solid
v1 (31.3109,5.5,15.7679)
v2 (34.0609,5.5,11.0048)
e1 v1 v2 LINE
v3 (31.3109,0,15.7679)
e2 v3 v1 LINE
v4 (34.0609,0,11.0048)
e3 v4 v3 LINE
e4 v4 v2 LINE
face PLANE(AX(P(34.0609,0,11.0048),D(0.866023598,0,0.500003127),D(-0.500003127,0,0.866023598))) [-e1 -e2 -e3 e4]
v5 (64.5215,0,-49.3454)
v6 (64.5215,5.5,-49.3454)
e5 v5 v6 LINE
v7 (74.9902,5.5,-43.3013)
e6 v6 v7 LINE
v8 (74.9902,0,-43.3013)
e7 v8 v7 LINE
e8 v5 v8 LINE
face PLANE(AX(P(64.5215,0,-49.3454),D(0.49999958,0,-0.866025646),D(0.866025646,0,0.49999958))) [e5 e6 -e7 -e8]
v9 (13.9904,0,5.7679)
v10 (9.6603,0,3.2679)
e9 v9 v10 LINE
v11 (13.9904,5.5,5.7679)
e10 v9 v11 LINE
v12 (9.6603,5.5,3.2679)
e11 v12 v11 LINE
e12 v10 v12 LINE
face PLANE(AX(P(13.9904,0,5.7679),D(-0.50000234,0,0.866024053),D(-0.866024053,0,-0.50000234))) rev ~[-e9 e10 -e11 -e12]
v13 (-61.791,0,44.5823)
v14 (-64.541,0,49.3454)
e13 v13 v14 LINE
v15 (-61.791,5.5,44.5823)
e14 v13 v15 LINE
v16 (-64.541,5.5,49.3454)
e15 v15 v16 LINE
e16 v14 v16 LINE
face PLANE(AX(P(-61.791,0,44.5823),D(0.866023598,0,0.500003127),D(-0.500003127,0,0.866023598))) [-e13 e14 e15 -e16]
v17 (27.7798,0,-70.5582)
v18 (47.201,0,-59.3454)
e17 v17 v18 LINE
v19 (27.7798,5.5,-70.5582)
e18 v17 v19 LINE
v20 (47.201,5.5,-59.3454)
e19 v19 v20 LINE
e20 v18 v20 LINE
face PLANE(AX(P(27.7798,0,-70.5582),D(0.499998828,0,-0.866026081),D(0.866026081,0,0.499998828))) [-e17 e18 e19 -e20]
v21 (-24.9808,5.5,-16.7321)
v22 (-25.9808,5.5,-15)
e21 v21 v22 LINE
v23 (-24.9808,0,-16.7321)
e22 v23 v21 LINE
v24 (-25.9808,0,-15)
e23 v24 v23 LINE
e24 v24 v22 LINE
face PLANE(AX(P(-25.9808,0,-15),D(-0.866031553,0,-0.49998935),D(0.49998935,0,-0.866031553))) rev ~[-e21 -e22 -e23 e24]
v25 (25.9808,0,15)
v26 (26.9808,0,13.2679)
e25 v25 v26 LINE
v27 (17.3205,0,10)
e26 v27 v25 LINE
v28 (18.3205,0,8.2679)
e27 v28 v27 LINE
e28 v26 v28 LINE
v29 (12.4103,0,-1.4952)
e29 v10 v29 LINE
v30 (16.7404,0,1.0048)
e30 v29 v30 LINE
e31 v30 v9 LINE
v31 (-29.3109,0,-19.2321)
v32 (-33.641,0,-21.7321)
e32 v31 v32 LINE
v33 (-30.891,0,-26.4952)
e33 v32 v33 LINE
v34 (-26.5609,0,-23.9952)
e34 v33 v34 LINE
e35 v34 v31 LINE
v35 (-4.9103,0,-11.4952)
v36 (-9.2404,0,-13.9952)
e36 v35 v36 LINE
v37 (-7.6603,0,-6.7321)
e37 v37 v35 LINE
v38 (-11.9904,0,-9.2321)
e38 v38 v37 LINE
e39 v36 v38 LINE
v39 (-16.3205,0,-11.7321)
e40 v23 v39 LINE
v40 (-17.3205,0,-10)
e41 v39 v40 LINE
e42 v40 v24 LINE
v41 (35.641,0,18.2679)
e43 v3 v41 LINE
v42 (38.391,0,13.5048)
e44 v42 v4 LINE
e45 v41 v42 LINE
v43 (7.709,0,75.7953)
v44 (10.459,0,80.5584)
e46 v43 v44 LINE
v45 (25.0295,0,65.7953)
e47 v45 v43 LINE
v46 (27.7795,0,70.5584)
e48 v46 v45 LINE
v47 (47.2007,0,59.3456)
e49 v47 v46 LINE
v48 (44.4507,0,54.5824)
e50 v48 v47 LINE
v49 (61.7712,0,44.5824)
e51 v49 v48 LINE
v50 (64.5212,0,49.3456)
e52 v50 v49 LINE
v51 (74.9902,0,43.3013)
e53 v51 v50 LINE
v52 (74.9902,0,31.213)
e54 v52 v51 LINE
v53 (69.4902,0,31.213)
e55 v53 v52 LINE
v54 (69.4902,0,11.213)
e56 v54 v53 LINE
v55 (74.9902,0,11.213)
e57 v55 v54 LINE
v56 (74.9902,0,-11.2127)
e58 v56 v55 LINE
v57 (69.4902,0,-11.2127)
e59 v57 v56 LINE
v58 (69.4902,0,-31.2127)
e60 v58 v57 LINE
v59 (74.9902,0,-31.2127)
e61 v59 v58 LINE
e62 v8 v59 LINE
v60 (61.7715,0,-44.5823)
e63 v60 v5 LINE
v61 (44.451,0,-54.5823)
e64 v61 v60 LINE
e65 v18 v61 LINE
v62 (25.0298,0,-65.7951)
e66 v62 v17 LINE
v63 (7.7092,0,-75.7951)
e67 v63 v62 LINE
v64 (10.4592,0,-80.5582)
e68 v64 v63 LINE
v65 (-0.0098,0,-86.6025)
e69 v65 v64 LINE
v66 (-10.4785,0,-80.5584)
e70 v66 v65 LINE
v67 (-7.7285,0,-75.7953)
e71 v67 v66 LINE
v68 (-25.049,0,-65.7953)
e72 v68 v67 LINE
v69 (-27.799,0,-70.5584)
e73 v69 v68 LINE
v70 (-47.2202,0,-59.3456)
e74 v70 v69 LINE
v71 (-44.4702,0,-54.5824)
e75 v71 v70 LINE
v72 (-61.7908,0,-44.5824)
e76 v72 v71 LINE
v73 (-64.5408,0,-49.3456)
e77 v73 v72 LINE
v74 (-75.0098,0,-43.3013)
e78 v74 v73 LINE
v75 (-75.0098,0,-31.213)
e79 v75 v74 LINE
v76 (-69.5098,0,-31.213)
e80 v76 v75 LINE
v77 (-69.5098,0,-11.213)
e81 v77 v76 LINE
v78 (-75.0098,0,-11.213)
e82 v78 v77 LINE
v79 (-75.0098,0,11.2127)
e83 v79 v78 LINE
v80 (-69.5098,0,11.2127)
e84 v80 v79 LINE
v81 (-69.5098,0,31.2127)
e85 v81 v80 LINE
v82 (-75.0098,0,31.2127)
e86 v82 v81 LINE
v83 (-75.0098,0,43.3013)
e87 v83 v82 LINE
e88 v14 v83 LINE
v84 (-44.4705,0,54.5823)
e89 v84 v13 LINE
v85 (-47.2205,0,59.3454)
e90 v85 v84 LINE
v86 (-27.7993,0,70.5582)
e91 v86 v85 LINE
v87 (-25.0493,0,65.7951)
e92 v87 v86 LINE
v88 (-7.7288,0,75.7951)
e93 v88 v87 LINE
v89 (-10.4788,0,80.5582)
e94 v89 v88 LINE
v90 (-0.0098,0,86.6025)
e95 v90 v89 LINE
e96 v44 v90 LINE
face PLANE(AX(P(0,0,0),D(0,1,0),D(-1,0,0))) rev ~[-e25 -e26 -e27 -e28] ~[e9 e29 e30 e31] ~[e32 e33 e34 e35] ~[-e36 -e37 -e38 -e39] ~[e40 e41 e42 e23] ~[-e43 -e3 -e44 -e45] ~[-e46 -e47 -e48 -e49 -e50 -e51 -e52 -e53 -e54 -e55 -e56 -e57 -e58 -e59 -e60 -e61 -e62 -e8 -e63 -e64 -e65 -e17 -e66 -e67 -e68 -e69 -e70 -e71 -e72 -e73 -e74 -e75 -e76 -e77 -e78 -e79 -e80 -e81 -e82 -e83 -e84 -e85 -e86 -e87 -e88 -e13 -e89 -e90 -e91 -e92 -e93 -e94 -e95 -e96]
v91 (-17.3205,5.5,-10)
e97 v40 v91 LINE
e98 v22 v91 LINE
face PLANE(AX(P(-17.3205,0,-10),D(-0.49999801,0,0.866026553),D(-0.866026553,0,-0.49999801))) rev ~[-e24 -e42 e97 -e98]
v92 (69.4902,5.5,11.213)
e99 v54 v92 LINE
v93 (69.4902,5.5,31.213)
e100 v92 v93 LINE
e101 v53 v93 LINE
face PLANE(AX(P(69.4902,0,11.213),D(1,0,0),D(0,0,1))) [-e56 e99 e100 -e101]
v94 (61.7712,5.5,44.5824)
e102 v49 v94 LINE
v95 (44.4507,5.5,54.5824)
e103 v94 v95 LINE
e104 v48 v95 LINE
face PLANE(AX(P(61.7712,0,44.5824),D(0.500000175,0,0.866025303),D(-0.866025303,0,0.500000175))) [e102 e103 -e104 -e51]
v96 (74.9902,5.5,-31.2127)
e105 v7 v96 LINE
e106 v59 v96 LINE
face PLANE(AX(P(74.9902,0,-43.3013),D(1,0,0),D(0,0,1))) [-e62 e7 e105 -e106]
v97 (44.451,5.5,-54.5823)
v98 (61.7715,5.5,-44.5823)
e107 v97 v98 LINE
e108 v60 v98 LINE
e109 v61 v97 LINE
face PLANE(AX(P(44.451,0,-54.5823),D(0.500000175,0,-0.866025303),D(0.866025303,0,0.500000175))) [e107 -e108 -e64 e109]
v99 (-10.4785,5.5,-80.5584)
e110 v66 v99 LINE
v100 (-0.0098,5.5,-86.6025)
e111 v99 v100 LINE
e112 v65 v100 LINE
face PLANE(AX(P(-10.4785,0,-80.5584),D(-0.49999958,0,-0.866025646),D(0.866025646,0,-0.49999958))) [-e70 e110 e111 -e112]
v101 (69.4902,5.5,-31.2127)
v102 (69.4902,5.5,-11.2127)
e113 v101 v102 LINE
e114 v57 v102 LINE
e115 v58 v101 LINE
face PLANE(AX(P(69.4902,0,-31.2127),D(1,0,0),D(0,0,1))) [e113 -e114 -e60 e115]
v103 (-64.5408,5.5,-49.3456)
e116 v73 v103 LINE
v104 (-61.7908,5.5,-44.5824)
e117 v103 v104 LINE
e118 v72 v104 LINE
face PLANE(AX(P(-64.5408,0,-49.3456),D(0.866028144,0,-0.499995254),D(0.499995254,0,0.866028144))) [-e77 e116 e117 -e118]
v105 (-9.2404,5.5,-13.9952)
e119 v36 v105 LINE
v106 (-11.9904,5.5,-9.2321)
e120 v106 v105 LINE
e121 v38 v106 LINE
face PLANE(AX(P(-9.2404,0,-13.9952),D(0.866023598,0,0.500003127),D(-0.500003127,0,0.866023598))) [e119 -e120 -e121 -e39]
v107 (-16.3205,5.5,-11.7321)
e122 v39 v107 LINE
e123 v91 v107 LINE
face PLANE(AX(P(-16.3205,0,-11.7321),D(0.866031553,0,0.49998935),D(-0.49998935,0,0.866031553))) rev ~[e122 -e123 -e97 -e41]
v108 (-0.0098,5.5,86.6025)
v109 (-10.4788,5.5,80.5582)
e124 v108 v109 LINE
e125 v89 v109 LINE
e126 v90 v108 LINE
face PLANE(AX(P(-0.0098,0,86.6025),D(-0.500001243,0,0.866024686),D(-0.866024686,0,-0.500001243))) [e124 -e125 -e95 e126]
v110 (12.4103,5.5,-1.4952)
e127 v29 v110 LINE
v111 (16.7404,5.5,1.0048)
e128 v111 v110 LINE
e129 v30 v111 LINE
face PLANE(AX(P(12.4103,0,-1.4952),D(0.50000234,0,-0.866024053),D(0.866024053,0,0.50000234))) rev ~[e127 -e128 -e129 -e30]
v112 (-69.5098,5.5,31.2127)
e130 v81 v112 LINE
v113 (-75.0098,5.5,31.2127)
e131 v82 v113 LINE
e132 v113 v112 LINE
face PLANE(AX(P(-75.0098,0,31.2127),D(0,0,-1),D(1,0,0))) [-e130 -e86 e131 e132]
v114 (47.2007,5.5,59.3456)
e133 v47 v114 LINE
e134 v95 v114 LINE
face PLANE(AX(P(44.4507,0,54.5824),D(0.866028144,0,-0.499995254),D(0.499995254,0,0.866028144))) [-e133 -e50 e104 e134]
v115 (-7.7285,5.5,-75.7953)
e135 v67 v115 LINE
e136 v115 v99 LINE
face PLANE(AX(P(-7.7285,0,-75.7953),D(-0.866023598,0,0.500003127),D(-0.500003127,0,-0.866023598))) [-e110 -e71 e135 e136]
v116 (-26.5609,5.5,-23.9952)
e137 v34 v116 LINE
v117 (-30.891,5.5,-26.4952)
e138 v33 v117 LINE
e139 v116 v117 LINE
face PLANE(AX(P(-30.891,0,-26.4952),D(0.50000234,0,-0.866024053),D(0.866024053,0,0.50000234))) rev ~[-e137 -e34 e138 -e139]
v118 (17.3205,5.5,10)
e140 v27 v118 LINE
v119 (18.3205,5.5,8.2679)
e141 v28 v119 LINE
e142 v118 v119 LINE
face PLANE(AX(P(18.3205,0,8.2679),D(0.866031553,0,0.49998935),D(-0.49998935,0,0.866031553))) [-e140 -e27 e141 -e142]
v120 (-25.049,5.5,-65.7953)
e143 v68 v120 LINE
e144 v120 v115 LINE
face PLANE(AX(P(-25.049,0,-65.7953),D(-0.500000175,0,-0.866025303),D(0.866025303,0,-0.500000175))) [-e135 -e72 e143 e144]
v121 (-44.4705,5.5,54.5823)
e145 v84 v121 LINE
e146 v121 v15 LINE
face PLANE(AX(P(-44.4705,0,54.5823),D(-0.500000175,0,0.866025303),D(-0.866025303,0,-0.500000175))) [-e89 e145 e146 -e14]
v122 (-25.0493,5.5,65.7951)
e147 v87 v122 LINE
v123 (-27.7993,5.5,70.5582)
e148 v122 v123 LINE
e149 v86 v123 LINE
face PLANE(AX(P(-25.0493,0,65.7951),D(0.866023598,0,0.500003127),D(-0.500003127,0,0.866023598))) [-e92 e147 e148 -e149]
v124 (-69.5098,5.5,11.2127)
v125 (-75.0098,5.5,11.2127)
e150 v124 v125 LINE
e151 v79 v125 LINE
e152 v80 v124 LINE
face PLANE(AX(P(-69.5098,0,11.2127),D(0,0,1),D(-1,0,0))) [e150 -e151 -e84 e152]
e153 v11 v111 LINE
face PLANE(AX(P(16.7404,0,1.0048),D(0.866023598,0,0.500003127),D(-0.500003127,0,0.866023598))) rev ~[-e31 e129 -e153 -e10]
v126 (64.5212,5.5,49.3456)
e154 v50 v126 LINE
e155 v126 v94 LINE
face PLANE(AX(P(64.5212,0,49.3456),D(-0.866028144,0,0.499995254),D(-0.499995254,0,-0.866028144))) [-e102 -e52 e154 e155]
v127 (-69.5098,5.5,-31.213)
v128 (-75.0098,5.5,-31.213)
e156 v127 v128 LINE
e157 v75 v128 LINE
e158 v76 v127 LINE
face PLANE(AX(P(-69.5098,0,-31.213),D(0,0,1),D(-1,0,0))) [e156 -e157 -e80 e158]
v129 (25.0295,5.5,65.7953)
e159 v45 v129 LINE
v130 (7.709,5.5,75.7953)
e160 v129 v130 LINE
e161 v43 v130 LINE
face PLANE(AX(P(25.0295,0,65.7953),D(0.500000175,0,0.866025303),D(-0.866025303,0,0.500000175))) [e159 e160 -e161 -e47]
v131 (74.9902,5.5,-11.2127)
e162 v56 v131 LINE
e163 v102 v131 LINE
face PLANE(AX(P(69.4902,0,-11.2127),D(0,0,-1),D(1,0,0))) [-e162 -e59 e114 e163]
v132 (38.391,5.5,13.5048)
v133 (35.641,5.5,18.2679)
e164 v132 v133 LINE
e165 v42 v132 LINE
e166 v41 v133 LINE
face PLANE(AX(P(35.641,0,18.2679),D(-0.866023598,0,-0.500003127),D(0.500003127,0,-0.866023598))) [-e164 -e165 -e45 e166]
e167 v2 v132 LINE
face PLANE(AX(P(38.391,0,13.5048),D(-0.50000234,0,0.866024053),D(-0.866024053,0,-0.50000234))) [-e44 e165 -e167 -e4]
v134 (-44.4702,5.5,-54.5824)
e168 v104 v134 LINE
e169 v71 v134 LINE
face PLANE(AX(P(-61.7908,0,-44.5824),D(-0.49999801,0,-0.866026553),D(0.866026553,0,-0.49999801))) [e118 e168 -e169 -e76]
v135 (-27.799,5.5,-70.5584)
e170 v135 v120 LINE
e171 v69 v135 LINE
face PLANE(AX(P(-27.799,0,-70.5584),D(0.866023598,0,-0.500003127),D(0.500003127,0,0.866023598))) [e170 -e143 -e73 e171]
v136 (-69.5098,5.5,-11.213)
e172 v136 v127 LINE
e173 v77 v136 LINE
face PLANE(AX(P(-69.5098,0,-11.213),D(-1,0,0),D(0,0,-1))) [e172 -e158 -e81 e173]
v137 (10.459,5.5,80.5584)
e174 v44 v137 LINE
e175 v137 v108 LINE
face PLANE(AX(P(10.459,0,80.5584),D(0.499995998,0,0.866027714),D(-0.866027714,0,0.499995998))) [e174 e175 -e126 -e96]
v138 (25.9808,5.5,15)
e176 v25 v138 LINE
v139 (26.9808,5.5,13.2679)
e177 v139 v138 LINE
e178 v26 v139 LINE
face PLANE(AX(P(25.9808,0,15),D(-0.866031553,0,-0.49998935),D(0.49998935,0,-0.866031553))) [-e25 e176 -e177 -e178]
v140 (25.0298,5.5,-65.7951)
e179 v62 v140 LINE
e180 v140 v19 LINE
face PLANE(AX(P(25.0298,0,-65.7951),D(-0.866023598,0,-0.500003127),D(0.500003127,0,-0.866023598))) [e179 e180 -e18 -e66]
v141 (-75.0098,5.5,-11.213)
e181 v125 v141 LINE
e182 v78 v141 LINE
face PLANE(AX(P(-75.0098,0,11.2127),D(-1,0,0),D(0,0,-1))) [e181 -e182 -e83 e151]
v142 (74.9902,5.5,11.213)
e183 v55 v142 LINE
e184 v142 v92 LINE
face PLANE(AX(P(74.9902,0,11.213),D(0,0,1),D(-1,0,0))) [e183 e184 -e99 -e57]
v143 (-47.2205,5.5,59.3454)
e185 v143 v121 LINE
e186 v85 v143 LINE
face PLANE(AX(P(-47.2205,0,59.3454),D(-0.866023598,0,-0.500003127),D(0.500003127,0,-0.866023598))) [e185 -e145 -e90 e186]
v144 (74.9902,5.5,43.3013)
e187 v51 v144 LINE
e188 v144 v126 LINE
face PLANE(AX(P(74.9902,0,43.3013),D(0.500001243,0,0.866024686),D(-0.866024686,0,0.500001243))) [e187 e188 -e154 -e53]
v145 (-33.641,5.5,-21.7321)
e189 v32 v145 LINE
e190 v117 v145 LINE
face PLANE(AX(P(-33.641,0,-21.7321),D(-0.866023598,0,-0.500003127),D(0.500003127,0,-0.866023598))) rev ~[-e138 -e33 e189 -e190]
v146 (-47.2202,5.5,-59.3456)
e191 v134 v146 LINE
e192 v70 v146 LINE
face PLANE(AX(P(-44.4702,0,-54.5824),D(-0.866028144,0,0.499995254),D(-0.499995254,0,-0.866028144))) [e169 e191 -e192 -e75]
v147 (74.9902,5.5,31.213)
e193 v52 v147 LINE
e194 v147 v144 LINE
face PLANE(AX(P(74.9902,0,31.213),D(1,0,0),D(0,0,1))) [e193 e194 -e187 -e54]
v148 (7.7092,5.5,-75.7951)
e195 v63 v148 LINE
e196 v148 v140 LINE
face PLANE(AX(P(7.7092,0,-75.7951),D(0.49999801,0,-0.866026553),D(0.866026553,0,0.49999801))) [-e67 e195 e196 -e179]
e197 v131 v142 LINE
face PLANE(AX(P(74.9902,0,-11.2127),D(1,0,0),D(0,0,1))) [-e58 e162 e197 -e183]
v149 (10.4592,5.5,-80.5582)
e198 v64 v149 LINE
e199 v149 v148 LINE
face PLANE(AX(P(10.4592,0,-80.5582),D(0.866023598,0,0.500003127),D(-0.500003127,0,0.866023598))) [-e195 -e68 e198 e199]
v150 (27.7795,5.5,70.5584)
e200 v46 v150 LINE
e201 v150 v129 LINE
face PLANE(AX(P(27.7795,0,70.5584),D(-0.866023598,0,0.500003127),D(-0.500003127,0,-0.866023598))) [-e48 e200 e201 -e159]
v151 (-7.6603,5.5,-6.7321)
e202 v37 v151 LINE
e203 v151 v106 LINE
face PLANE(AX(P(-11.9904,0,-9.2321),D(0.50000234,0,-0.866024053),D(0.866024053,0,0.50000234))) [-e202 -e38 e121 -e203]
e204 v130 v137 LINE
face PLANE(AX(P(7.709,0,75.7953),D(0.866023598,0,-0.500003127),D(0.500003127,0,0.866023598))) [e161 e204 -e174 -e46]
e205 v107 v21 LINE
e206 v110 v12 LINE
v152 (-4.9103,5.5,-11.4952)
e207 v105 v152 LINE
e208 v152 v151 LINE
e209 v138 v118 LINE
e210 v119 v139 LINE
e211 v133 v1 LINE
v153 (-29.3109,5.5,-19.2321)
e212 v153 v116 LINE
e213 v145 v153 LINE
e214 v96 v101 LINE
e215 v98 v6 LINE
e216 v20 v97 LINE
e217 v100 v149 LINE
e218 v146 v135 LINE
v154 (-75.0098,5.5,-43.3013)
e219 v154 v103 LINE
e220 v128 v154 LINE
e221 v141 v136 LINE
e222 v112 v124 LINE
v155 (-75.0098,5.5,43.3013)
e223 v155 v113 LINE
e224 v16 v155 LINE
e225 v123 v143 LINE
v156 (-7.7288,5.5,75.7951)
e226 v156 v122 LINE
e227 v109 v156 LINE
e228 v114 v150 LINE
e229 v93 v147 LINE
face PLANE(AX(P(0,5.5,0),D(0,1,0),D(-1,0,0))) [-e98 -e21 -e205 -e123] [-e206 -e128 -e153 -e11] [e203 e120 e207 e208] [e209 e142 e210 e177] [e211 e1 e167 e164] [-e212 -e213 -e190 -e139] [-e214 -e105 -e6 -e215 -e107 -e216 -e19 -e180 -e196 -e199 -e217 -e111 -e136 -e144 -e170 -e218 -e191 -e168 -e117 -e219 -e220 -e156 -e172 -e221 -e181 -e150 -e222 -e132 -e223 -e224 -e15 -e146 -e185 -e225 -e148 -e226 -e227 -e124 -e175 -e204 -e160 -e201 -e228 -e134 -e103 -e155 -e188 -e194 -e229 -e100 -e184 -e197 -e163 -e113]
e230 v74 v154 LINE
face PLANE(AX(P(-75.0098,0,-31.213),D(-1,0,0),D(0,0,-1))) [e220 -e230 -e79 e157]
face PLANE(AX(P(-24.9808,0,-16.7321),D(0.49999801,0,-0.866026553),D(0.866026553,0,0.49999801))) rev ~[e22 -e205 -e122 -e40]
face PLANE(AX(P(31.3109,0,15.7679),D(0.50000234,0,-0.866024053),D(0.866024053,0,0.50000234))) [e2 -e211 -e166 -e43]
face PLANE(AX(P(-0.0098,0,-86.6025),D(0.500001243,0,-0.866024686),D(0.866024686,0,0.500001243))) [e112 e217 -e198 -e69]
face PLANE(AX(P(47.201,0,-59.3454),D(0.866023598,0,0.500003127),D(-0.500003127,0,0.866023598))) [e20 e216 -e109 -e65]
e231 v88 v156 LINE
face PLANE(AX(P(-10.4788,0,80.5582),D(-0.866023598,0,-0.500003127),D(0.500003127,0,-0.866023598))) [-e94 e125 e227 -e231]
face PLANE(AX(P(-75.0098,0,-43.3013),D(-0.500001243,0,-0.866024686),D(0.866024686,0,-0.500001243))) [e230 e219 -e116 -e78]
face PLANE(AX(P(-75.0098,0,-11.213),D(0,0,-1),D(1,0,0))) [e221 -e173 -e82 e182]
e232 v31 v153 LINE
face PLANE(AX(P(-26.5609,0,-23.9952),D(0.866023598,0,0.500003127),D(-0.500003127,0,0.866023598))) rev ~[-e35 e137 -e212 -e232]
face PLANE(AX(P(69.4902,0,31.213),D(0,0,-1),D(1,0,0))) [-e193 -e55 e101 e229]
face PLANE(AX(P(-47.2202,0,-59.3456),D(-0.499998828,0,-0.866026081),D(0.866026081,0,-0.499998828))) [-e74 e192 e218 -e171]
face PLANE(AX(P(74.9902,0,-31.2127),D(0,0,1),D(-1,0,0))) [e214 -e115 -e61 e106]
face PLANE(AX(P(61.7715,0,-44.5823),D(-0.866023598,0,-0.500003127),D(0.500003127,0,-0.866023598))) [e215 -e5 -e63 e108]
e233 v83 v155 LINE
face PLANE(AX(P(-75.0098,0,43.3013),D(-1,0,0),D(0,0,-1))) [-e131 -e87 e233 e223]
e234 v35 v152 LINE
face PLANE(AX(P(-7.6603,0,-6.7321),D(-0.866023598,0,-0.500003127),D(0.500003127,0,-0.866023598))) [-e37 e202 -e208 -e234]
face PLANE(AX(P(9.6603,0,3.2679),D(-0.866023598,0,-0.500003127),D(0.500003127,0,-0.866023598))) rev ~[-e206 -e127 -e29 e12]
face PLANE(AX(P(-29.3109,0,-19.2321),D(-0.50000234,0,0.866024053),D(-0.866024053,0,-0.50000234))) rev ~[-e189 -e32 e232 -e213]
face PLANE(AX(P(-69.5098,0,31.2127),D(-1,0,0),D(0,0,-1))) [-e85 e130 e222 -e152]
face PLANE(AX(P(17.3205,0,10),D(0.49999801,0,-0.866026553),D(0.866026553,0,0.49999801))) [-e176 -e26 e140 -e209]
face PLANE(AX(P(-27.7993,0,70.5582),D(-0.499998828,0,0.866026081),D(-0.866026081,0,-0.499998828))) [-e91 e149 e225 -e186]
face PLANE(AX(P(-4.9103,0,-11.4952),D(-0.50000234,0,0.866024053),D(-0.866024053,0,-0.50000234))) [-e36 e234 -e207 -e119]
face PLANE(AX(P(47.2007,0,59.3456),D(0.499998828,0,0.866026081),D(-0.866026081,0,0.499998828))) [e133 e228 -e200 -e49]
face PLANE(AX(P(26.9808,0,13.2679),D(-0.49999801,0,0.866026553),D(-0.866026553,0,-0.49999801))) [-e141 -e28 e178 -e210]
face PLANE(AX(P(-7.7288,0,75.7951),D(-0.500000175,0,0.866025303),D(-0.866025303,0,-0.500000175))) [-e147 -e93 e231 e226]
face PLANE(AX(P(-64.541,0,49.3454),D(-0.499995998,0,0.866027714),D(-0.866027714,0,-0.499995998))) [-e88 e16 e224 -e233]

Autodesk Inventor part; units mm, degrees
ref_plane "YZ Plane" through (0, 0, 0) normal (1, 0, 0) x (0, 1, 0)
ref_plane "XZ Plane" through (0, 0, 0) normal (0, 1, 0) x (-1, 0, 0)
ref_plane "XY Plane" through (0, 0, 0) normal (0, 0, 1) x (1, 0, 0)
sketch "Sketch1" plane through (0, 0, 0) normal (0, 1, 0) x (-1, 0, 0)
  line L0 (75.0098, 31.2127) -> (69.5098, 31.2127)
  line L1 (75.0098, 31.2127) -> (80.5098, 31.2127) construction
  line L2 (69.5098, 31.2127) -> (69.5098, 11.2127)
  line L3 (69.5098, 11.2127) -> (75.0098, 11.2127)
  line L4 (75.0098, -11.213) -> (69.5098, -11.213)
  line L5 (69.5098, -11.213) -> (69.5098, -31.213)
  line L6 (69.5098, -31.213) -> (75.0098, -31.213)
  line L7 (75.0098, -31.213) -> (75.0098, -43.3013)
  line L8 (75.0098, 43.3013) -> (75.0098, 31.2127)
  line L9 (75.0098, 11.2127) -> (75.0098, -11.213)
  line L10 (64.5408, -49.3456) -> (61.7908, -44.5824)
  line L11 (64.5408, -49.3456) -> (67.2908, -54.1087) construction
  line L12 (61.7908, -44.5824) -> (44.4702, -54.5824)
  line L13 (44.4702, -54.5824) -> (47.2202, -59.3456)
  line L14 (27.799, -70.5584) -> (25.049, -65.7953)
  line L15 (25.049, -65.7953) -> (7.7285, -75.7953)
  line L16 (7.7285, -75.7953) -> (10.4785, -80.5584)
  line L17 (10.4785, -80.5584) -> (0.0098, -86.6025)
  line L18 (75.0098, -43.3013) -> (64.5408, -49.3456)
  line L19 (47.2202, -59.3456) -> (27.799, -70.5584)
  line L20 (-10.4592, -80.5582) -> (-7.7092, -75.7951)
  line L21 (-10.4592, -80.5582) -> (-13.2092, -85.3214) construction
  line L22 (-7.7092, -75.7951) -> (-25.0298, -65.7951)
  line L23 (-25.0298, -65.7951) -> (-27.7798, -70.5582)
  line L24 (-47.201, -59.3454) -> (-44.451, -54.5823)
  line L25 (-44.451, -54.5823) -> (-61.7715, -44.5823)
  line L26 (-61.7715, -44.5823) -> (-64.5215, -49.3454)
  line L27 (-64.5215, -49.3454) -> (-74.9902, -43.3013)
  line L28 (0.0098, -86.6025) -> (-10.4592, -80.5582)
  line L29 (-27.7798, -70.5582) -> (-47.201, -59.3454)
  line L30 (-74.9902, -31.2127) -> (-69.4902, -31.2127)
  line L31 (-74.9902, -31.2127) -> (-80.4902, -31.2127) construction
  line L32 (-69.4902, -31.2127) -> (-69.4902, -11.2127)
  line L33 (-69.4902, -11.2127) -> (-74.9902, -11.2127)
  line L34 (-74.9902, 11.213) -> (-69.4902, 11.213)
  line L35 (-69.4902, 11.213) -> (-69.4902, 31.213)
  line L36 (-69.4902, 31.213) -> (-74.9902, 31.213)
  line L37 (-74.9902, 31.213) -> (-74.9902, 43.3013)
  line L38 (-74.9902, -43.3013) -> (-74.9902, -31.2127)
  line L39 (-74.9902, -11.2127) -> (-74.9902, 11.213)
  line L40 (-64.5212, 49.3456) -> (-61.7712, 44.5824)
  line L41 (-64.5212, 49.3456) -> (-67.2712, 54.1087) construction
  line L42 (-61.7712, 44.5824) -> (-44.4507, 54.5824)
  line L43 (-44.4507, 54.5824) -> (-47.2007, 59.3456)
  line L44 (-27.7795, 70.5584) -> (-25.0295, 65.7953)
  line L45 (-25.0295, 65.7953) -> (-7.709, 75.7953)
  line L46 (-7.709, 75.7953) -> (-10.459, 80.5584)
  line L47 (-10.459, 80.5584) -> (0.0098, 86.6025)
  line L48 (-74.9902, 43.3013) -> (-64.5212, 49.3456)
  line L49 (-47.2007, 59.3456) -> (-27.7795, 70.5584)
  line L50 (10.4788, 80.5582) -> (7.7288, 75.7951)
  line L51 (10.4788, 80.5582) -> (13.2288, 85.3214) construction
  line L52 (7.7288, 75.7951) -> (25.0493, 65.7951)
  line L53 (25.0493, 65.7951) -> (27.7993, 70.5582)
  line L54 (47.2205, 59.3454) -> (44.4705, 54.5823)
  line L55 (44.4705, 54.5823) -> (61.791, 44.5823)
  line L56 (61.791, 44.5823) -> (64.541, 49.3454)
  line L57 (64.541, 49.3454) -> (75.0098, 43.3013)
  line L58 (0.0098, 86.6025) -> (10.4788, 80.5582)
  line L59 (27.7993, 70.5582) -> (47.2205, 59.3454)
  line L60 (64.541, 49.3454) -> (75.0098, 43.3013)
  line L61 (0.0098, 86.6025) -> (10.4788, 80.5582)
  line L62 (27.7993, 70.5582) -> (47.2205, 59.3454)
  line L63 (-10.459, 80.5584) -> (0.0098, 86.6025)
  line L64 (-74.9902, 43.3013) -> (-64.5212, 49.3456)
  line L65 (-47.2007, 59.3456) -> (-27.7795, 70.5584)
  line L66 (-74.9902, 31.213) -> (-74.9902, 43.3013)
  line L67 (-74.9902, -43.3013) -> (-74.9902, -31.2127)
  line L68 (-74.9902, -11.2127) -> (-74.9902, 11.213)
  line L69 (-64.5215, -49.3454) -> (-74.9902, -43.3013)
  line L70 (0.0098, -86.6025) -> (-10.4592, -80.5582)
  line L71 (-27.7798, -70.5582) -> (-47.201, -59.3454)
  line L72 (10.4785, -80.5584) -> (0.0098, -86.6025)
  line L73 (75.0098, -43.3013) -> (64.5408, -49.3456)
  line L74 (47.2202, -59.3456) -> (27.799, -70.5584)
  point P0 (0.0098, 0)
  point P1 (0.0098, 0)
  point P2 (0.0098, 0)
  point P3 (0.0098, 0)
  point P4 (0.0098, 0)
  point P5 (0.0098, 0)
  dimension "d6" = 86.6025
  dimension "d7" = 5.5
  dimension "d8" = 180
  dimension "d9" = 20
  dimension "d10" = 20
  dimension "d13" = 360
extrude "Extrusion1" add sketch "Sketch1" along normal blind 5.5
sketch "Sketch2" plane through (0, 0, 0) normal (0, -1, 0) x (1, 0, 0)
  line L0 (-17.3205, -10) -> (-25.9808, -15)
  line L1 (-25.9808, -15) -> (-24.9808, -16.7321)
  line L2 (-24.9808, -16.7321) -> (-16.3205, -11.7321)
  line L3 (-16.3205, -11.7321) -> (-17.3205, -10)
  line L4 (17.3205, 10) -> (25.9808, 15)
  line L5 (25.9808, 15) -> (26.9808, 13.2679)
  line L6 (26.9808, 13.2679) -> (18.3205, 8.2679)
  line L7 (18.3205, 8.2679) -> (17.3205, 10)
  point P0 (0, 0)
  dimension "d17" = 10
  dimension "d18" = 2
  dimension "d19" = 10
  dimension "d22" = 20
  dimension "d23" = 20
extrude "Extrusion2" cut sketch "Sketch2" against normal blind 10
sketch "Sketch4" plane through (0, 0, 0) normal (0, -1, 0) x (1, 0, 0)
  line L0 (13.9904, 5.7679) -> (9.6603, 3.2679)
  line L1 (9.6603, 3.2679) -> (12.4103, -1.4952)
  line L2 (12.4103, -1.4952) -> (16.7404, 1.0048)
  line L3 (16.7404, 1.0048) -> (13.9904, 5.7679)
  line L4 (31.3109, 15.7679) -> (35.641, 18.2679)
  line L5 (35.641, 18.2679) -> (38.391, 13.5048)
  line L6 (38.391, 13.5048) -> (34.0609, 11.0048)
  line L7 (34.0609, 11.0048) -> (31.3109, 15.7679)
  line L8 (-11.9904, -9.2321) -> (-7.6603, -6.7321)
  line L9 (-7.6603, -6.7321) -> (-4.9103, -11.4952)
  line L10 (-4.9103, -11.4952) -> (-9.2404, -13.9952)
  line L11 (-9.2404, -13.9952) -> (-11.9904, -9.2321)
  line L12 (-29.3109, -19.2321) -> (-33.641, -21.7321)
  line L13 (-33.641, -21.7321) -> (-30.891, -26.4952)
  line L14 (-30.891, -26.4952) -> (-26.5609, -23.9952)
  line L15 (-26.5609, -23.9952) -> (-29.3109, -19.2321)
  point P0 (0, 0)
  dimension "d24" = 5
  dimension "d25" = 5.5
  dimension "d26" = 5
  dimension "d27" = 5.5
extrude "Extrusion3" cut sketch "Sketch4" against normal blind 10
properties part number "base"
